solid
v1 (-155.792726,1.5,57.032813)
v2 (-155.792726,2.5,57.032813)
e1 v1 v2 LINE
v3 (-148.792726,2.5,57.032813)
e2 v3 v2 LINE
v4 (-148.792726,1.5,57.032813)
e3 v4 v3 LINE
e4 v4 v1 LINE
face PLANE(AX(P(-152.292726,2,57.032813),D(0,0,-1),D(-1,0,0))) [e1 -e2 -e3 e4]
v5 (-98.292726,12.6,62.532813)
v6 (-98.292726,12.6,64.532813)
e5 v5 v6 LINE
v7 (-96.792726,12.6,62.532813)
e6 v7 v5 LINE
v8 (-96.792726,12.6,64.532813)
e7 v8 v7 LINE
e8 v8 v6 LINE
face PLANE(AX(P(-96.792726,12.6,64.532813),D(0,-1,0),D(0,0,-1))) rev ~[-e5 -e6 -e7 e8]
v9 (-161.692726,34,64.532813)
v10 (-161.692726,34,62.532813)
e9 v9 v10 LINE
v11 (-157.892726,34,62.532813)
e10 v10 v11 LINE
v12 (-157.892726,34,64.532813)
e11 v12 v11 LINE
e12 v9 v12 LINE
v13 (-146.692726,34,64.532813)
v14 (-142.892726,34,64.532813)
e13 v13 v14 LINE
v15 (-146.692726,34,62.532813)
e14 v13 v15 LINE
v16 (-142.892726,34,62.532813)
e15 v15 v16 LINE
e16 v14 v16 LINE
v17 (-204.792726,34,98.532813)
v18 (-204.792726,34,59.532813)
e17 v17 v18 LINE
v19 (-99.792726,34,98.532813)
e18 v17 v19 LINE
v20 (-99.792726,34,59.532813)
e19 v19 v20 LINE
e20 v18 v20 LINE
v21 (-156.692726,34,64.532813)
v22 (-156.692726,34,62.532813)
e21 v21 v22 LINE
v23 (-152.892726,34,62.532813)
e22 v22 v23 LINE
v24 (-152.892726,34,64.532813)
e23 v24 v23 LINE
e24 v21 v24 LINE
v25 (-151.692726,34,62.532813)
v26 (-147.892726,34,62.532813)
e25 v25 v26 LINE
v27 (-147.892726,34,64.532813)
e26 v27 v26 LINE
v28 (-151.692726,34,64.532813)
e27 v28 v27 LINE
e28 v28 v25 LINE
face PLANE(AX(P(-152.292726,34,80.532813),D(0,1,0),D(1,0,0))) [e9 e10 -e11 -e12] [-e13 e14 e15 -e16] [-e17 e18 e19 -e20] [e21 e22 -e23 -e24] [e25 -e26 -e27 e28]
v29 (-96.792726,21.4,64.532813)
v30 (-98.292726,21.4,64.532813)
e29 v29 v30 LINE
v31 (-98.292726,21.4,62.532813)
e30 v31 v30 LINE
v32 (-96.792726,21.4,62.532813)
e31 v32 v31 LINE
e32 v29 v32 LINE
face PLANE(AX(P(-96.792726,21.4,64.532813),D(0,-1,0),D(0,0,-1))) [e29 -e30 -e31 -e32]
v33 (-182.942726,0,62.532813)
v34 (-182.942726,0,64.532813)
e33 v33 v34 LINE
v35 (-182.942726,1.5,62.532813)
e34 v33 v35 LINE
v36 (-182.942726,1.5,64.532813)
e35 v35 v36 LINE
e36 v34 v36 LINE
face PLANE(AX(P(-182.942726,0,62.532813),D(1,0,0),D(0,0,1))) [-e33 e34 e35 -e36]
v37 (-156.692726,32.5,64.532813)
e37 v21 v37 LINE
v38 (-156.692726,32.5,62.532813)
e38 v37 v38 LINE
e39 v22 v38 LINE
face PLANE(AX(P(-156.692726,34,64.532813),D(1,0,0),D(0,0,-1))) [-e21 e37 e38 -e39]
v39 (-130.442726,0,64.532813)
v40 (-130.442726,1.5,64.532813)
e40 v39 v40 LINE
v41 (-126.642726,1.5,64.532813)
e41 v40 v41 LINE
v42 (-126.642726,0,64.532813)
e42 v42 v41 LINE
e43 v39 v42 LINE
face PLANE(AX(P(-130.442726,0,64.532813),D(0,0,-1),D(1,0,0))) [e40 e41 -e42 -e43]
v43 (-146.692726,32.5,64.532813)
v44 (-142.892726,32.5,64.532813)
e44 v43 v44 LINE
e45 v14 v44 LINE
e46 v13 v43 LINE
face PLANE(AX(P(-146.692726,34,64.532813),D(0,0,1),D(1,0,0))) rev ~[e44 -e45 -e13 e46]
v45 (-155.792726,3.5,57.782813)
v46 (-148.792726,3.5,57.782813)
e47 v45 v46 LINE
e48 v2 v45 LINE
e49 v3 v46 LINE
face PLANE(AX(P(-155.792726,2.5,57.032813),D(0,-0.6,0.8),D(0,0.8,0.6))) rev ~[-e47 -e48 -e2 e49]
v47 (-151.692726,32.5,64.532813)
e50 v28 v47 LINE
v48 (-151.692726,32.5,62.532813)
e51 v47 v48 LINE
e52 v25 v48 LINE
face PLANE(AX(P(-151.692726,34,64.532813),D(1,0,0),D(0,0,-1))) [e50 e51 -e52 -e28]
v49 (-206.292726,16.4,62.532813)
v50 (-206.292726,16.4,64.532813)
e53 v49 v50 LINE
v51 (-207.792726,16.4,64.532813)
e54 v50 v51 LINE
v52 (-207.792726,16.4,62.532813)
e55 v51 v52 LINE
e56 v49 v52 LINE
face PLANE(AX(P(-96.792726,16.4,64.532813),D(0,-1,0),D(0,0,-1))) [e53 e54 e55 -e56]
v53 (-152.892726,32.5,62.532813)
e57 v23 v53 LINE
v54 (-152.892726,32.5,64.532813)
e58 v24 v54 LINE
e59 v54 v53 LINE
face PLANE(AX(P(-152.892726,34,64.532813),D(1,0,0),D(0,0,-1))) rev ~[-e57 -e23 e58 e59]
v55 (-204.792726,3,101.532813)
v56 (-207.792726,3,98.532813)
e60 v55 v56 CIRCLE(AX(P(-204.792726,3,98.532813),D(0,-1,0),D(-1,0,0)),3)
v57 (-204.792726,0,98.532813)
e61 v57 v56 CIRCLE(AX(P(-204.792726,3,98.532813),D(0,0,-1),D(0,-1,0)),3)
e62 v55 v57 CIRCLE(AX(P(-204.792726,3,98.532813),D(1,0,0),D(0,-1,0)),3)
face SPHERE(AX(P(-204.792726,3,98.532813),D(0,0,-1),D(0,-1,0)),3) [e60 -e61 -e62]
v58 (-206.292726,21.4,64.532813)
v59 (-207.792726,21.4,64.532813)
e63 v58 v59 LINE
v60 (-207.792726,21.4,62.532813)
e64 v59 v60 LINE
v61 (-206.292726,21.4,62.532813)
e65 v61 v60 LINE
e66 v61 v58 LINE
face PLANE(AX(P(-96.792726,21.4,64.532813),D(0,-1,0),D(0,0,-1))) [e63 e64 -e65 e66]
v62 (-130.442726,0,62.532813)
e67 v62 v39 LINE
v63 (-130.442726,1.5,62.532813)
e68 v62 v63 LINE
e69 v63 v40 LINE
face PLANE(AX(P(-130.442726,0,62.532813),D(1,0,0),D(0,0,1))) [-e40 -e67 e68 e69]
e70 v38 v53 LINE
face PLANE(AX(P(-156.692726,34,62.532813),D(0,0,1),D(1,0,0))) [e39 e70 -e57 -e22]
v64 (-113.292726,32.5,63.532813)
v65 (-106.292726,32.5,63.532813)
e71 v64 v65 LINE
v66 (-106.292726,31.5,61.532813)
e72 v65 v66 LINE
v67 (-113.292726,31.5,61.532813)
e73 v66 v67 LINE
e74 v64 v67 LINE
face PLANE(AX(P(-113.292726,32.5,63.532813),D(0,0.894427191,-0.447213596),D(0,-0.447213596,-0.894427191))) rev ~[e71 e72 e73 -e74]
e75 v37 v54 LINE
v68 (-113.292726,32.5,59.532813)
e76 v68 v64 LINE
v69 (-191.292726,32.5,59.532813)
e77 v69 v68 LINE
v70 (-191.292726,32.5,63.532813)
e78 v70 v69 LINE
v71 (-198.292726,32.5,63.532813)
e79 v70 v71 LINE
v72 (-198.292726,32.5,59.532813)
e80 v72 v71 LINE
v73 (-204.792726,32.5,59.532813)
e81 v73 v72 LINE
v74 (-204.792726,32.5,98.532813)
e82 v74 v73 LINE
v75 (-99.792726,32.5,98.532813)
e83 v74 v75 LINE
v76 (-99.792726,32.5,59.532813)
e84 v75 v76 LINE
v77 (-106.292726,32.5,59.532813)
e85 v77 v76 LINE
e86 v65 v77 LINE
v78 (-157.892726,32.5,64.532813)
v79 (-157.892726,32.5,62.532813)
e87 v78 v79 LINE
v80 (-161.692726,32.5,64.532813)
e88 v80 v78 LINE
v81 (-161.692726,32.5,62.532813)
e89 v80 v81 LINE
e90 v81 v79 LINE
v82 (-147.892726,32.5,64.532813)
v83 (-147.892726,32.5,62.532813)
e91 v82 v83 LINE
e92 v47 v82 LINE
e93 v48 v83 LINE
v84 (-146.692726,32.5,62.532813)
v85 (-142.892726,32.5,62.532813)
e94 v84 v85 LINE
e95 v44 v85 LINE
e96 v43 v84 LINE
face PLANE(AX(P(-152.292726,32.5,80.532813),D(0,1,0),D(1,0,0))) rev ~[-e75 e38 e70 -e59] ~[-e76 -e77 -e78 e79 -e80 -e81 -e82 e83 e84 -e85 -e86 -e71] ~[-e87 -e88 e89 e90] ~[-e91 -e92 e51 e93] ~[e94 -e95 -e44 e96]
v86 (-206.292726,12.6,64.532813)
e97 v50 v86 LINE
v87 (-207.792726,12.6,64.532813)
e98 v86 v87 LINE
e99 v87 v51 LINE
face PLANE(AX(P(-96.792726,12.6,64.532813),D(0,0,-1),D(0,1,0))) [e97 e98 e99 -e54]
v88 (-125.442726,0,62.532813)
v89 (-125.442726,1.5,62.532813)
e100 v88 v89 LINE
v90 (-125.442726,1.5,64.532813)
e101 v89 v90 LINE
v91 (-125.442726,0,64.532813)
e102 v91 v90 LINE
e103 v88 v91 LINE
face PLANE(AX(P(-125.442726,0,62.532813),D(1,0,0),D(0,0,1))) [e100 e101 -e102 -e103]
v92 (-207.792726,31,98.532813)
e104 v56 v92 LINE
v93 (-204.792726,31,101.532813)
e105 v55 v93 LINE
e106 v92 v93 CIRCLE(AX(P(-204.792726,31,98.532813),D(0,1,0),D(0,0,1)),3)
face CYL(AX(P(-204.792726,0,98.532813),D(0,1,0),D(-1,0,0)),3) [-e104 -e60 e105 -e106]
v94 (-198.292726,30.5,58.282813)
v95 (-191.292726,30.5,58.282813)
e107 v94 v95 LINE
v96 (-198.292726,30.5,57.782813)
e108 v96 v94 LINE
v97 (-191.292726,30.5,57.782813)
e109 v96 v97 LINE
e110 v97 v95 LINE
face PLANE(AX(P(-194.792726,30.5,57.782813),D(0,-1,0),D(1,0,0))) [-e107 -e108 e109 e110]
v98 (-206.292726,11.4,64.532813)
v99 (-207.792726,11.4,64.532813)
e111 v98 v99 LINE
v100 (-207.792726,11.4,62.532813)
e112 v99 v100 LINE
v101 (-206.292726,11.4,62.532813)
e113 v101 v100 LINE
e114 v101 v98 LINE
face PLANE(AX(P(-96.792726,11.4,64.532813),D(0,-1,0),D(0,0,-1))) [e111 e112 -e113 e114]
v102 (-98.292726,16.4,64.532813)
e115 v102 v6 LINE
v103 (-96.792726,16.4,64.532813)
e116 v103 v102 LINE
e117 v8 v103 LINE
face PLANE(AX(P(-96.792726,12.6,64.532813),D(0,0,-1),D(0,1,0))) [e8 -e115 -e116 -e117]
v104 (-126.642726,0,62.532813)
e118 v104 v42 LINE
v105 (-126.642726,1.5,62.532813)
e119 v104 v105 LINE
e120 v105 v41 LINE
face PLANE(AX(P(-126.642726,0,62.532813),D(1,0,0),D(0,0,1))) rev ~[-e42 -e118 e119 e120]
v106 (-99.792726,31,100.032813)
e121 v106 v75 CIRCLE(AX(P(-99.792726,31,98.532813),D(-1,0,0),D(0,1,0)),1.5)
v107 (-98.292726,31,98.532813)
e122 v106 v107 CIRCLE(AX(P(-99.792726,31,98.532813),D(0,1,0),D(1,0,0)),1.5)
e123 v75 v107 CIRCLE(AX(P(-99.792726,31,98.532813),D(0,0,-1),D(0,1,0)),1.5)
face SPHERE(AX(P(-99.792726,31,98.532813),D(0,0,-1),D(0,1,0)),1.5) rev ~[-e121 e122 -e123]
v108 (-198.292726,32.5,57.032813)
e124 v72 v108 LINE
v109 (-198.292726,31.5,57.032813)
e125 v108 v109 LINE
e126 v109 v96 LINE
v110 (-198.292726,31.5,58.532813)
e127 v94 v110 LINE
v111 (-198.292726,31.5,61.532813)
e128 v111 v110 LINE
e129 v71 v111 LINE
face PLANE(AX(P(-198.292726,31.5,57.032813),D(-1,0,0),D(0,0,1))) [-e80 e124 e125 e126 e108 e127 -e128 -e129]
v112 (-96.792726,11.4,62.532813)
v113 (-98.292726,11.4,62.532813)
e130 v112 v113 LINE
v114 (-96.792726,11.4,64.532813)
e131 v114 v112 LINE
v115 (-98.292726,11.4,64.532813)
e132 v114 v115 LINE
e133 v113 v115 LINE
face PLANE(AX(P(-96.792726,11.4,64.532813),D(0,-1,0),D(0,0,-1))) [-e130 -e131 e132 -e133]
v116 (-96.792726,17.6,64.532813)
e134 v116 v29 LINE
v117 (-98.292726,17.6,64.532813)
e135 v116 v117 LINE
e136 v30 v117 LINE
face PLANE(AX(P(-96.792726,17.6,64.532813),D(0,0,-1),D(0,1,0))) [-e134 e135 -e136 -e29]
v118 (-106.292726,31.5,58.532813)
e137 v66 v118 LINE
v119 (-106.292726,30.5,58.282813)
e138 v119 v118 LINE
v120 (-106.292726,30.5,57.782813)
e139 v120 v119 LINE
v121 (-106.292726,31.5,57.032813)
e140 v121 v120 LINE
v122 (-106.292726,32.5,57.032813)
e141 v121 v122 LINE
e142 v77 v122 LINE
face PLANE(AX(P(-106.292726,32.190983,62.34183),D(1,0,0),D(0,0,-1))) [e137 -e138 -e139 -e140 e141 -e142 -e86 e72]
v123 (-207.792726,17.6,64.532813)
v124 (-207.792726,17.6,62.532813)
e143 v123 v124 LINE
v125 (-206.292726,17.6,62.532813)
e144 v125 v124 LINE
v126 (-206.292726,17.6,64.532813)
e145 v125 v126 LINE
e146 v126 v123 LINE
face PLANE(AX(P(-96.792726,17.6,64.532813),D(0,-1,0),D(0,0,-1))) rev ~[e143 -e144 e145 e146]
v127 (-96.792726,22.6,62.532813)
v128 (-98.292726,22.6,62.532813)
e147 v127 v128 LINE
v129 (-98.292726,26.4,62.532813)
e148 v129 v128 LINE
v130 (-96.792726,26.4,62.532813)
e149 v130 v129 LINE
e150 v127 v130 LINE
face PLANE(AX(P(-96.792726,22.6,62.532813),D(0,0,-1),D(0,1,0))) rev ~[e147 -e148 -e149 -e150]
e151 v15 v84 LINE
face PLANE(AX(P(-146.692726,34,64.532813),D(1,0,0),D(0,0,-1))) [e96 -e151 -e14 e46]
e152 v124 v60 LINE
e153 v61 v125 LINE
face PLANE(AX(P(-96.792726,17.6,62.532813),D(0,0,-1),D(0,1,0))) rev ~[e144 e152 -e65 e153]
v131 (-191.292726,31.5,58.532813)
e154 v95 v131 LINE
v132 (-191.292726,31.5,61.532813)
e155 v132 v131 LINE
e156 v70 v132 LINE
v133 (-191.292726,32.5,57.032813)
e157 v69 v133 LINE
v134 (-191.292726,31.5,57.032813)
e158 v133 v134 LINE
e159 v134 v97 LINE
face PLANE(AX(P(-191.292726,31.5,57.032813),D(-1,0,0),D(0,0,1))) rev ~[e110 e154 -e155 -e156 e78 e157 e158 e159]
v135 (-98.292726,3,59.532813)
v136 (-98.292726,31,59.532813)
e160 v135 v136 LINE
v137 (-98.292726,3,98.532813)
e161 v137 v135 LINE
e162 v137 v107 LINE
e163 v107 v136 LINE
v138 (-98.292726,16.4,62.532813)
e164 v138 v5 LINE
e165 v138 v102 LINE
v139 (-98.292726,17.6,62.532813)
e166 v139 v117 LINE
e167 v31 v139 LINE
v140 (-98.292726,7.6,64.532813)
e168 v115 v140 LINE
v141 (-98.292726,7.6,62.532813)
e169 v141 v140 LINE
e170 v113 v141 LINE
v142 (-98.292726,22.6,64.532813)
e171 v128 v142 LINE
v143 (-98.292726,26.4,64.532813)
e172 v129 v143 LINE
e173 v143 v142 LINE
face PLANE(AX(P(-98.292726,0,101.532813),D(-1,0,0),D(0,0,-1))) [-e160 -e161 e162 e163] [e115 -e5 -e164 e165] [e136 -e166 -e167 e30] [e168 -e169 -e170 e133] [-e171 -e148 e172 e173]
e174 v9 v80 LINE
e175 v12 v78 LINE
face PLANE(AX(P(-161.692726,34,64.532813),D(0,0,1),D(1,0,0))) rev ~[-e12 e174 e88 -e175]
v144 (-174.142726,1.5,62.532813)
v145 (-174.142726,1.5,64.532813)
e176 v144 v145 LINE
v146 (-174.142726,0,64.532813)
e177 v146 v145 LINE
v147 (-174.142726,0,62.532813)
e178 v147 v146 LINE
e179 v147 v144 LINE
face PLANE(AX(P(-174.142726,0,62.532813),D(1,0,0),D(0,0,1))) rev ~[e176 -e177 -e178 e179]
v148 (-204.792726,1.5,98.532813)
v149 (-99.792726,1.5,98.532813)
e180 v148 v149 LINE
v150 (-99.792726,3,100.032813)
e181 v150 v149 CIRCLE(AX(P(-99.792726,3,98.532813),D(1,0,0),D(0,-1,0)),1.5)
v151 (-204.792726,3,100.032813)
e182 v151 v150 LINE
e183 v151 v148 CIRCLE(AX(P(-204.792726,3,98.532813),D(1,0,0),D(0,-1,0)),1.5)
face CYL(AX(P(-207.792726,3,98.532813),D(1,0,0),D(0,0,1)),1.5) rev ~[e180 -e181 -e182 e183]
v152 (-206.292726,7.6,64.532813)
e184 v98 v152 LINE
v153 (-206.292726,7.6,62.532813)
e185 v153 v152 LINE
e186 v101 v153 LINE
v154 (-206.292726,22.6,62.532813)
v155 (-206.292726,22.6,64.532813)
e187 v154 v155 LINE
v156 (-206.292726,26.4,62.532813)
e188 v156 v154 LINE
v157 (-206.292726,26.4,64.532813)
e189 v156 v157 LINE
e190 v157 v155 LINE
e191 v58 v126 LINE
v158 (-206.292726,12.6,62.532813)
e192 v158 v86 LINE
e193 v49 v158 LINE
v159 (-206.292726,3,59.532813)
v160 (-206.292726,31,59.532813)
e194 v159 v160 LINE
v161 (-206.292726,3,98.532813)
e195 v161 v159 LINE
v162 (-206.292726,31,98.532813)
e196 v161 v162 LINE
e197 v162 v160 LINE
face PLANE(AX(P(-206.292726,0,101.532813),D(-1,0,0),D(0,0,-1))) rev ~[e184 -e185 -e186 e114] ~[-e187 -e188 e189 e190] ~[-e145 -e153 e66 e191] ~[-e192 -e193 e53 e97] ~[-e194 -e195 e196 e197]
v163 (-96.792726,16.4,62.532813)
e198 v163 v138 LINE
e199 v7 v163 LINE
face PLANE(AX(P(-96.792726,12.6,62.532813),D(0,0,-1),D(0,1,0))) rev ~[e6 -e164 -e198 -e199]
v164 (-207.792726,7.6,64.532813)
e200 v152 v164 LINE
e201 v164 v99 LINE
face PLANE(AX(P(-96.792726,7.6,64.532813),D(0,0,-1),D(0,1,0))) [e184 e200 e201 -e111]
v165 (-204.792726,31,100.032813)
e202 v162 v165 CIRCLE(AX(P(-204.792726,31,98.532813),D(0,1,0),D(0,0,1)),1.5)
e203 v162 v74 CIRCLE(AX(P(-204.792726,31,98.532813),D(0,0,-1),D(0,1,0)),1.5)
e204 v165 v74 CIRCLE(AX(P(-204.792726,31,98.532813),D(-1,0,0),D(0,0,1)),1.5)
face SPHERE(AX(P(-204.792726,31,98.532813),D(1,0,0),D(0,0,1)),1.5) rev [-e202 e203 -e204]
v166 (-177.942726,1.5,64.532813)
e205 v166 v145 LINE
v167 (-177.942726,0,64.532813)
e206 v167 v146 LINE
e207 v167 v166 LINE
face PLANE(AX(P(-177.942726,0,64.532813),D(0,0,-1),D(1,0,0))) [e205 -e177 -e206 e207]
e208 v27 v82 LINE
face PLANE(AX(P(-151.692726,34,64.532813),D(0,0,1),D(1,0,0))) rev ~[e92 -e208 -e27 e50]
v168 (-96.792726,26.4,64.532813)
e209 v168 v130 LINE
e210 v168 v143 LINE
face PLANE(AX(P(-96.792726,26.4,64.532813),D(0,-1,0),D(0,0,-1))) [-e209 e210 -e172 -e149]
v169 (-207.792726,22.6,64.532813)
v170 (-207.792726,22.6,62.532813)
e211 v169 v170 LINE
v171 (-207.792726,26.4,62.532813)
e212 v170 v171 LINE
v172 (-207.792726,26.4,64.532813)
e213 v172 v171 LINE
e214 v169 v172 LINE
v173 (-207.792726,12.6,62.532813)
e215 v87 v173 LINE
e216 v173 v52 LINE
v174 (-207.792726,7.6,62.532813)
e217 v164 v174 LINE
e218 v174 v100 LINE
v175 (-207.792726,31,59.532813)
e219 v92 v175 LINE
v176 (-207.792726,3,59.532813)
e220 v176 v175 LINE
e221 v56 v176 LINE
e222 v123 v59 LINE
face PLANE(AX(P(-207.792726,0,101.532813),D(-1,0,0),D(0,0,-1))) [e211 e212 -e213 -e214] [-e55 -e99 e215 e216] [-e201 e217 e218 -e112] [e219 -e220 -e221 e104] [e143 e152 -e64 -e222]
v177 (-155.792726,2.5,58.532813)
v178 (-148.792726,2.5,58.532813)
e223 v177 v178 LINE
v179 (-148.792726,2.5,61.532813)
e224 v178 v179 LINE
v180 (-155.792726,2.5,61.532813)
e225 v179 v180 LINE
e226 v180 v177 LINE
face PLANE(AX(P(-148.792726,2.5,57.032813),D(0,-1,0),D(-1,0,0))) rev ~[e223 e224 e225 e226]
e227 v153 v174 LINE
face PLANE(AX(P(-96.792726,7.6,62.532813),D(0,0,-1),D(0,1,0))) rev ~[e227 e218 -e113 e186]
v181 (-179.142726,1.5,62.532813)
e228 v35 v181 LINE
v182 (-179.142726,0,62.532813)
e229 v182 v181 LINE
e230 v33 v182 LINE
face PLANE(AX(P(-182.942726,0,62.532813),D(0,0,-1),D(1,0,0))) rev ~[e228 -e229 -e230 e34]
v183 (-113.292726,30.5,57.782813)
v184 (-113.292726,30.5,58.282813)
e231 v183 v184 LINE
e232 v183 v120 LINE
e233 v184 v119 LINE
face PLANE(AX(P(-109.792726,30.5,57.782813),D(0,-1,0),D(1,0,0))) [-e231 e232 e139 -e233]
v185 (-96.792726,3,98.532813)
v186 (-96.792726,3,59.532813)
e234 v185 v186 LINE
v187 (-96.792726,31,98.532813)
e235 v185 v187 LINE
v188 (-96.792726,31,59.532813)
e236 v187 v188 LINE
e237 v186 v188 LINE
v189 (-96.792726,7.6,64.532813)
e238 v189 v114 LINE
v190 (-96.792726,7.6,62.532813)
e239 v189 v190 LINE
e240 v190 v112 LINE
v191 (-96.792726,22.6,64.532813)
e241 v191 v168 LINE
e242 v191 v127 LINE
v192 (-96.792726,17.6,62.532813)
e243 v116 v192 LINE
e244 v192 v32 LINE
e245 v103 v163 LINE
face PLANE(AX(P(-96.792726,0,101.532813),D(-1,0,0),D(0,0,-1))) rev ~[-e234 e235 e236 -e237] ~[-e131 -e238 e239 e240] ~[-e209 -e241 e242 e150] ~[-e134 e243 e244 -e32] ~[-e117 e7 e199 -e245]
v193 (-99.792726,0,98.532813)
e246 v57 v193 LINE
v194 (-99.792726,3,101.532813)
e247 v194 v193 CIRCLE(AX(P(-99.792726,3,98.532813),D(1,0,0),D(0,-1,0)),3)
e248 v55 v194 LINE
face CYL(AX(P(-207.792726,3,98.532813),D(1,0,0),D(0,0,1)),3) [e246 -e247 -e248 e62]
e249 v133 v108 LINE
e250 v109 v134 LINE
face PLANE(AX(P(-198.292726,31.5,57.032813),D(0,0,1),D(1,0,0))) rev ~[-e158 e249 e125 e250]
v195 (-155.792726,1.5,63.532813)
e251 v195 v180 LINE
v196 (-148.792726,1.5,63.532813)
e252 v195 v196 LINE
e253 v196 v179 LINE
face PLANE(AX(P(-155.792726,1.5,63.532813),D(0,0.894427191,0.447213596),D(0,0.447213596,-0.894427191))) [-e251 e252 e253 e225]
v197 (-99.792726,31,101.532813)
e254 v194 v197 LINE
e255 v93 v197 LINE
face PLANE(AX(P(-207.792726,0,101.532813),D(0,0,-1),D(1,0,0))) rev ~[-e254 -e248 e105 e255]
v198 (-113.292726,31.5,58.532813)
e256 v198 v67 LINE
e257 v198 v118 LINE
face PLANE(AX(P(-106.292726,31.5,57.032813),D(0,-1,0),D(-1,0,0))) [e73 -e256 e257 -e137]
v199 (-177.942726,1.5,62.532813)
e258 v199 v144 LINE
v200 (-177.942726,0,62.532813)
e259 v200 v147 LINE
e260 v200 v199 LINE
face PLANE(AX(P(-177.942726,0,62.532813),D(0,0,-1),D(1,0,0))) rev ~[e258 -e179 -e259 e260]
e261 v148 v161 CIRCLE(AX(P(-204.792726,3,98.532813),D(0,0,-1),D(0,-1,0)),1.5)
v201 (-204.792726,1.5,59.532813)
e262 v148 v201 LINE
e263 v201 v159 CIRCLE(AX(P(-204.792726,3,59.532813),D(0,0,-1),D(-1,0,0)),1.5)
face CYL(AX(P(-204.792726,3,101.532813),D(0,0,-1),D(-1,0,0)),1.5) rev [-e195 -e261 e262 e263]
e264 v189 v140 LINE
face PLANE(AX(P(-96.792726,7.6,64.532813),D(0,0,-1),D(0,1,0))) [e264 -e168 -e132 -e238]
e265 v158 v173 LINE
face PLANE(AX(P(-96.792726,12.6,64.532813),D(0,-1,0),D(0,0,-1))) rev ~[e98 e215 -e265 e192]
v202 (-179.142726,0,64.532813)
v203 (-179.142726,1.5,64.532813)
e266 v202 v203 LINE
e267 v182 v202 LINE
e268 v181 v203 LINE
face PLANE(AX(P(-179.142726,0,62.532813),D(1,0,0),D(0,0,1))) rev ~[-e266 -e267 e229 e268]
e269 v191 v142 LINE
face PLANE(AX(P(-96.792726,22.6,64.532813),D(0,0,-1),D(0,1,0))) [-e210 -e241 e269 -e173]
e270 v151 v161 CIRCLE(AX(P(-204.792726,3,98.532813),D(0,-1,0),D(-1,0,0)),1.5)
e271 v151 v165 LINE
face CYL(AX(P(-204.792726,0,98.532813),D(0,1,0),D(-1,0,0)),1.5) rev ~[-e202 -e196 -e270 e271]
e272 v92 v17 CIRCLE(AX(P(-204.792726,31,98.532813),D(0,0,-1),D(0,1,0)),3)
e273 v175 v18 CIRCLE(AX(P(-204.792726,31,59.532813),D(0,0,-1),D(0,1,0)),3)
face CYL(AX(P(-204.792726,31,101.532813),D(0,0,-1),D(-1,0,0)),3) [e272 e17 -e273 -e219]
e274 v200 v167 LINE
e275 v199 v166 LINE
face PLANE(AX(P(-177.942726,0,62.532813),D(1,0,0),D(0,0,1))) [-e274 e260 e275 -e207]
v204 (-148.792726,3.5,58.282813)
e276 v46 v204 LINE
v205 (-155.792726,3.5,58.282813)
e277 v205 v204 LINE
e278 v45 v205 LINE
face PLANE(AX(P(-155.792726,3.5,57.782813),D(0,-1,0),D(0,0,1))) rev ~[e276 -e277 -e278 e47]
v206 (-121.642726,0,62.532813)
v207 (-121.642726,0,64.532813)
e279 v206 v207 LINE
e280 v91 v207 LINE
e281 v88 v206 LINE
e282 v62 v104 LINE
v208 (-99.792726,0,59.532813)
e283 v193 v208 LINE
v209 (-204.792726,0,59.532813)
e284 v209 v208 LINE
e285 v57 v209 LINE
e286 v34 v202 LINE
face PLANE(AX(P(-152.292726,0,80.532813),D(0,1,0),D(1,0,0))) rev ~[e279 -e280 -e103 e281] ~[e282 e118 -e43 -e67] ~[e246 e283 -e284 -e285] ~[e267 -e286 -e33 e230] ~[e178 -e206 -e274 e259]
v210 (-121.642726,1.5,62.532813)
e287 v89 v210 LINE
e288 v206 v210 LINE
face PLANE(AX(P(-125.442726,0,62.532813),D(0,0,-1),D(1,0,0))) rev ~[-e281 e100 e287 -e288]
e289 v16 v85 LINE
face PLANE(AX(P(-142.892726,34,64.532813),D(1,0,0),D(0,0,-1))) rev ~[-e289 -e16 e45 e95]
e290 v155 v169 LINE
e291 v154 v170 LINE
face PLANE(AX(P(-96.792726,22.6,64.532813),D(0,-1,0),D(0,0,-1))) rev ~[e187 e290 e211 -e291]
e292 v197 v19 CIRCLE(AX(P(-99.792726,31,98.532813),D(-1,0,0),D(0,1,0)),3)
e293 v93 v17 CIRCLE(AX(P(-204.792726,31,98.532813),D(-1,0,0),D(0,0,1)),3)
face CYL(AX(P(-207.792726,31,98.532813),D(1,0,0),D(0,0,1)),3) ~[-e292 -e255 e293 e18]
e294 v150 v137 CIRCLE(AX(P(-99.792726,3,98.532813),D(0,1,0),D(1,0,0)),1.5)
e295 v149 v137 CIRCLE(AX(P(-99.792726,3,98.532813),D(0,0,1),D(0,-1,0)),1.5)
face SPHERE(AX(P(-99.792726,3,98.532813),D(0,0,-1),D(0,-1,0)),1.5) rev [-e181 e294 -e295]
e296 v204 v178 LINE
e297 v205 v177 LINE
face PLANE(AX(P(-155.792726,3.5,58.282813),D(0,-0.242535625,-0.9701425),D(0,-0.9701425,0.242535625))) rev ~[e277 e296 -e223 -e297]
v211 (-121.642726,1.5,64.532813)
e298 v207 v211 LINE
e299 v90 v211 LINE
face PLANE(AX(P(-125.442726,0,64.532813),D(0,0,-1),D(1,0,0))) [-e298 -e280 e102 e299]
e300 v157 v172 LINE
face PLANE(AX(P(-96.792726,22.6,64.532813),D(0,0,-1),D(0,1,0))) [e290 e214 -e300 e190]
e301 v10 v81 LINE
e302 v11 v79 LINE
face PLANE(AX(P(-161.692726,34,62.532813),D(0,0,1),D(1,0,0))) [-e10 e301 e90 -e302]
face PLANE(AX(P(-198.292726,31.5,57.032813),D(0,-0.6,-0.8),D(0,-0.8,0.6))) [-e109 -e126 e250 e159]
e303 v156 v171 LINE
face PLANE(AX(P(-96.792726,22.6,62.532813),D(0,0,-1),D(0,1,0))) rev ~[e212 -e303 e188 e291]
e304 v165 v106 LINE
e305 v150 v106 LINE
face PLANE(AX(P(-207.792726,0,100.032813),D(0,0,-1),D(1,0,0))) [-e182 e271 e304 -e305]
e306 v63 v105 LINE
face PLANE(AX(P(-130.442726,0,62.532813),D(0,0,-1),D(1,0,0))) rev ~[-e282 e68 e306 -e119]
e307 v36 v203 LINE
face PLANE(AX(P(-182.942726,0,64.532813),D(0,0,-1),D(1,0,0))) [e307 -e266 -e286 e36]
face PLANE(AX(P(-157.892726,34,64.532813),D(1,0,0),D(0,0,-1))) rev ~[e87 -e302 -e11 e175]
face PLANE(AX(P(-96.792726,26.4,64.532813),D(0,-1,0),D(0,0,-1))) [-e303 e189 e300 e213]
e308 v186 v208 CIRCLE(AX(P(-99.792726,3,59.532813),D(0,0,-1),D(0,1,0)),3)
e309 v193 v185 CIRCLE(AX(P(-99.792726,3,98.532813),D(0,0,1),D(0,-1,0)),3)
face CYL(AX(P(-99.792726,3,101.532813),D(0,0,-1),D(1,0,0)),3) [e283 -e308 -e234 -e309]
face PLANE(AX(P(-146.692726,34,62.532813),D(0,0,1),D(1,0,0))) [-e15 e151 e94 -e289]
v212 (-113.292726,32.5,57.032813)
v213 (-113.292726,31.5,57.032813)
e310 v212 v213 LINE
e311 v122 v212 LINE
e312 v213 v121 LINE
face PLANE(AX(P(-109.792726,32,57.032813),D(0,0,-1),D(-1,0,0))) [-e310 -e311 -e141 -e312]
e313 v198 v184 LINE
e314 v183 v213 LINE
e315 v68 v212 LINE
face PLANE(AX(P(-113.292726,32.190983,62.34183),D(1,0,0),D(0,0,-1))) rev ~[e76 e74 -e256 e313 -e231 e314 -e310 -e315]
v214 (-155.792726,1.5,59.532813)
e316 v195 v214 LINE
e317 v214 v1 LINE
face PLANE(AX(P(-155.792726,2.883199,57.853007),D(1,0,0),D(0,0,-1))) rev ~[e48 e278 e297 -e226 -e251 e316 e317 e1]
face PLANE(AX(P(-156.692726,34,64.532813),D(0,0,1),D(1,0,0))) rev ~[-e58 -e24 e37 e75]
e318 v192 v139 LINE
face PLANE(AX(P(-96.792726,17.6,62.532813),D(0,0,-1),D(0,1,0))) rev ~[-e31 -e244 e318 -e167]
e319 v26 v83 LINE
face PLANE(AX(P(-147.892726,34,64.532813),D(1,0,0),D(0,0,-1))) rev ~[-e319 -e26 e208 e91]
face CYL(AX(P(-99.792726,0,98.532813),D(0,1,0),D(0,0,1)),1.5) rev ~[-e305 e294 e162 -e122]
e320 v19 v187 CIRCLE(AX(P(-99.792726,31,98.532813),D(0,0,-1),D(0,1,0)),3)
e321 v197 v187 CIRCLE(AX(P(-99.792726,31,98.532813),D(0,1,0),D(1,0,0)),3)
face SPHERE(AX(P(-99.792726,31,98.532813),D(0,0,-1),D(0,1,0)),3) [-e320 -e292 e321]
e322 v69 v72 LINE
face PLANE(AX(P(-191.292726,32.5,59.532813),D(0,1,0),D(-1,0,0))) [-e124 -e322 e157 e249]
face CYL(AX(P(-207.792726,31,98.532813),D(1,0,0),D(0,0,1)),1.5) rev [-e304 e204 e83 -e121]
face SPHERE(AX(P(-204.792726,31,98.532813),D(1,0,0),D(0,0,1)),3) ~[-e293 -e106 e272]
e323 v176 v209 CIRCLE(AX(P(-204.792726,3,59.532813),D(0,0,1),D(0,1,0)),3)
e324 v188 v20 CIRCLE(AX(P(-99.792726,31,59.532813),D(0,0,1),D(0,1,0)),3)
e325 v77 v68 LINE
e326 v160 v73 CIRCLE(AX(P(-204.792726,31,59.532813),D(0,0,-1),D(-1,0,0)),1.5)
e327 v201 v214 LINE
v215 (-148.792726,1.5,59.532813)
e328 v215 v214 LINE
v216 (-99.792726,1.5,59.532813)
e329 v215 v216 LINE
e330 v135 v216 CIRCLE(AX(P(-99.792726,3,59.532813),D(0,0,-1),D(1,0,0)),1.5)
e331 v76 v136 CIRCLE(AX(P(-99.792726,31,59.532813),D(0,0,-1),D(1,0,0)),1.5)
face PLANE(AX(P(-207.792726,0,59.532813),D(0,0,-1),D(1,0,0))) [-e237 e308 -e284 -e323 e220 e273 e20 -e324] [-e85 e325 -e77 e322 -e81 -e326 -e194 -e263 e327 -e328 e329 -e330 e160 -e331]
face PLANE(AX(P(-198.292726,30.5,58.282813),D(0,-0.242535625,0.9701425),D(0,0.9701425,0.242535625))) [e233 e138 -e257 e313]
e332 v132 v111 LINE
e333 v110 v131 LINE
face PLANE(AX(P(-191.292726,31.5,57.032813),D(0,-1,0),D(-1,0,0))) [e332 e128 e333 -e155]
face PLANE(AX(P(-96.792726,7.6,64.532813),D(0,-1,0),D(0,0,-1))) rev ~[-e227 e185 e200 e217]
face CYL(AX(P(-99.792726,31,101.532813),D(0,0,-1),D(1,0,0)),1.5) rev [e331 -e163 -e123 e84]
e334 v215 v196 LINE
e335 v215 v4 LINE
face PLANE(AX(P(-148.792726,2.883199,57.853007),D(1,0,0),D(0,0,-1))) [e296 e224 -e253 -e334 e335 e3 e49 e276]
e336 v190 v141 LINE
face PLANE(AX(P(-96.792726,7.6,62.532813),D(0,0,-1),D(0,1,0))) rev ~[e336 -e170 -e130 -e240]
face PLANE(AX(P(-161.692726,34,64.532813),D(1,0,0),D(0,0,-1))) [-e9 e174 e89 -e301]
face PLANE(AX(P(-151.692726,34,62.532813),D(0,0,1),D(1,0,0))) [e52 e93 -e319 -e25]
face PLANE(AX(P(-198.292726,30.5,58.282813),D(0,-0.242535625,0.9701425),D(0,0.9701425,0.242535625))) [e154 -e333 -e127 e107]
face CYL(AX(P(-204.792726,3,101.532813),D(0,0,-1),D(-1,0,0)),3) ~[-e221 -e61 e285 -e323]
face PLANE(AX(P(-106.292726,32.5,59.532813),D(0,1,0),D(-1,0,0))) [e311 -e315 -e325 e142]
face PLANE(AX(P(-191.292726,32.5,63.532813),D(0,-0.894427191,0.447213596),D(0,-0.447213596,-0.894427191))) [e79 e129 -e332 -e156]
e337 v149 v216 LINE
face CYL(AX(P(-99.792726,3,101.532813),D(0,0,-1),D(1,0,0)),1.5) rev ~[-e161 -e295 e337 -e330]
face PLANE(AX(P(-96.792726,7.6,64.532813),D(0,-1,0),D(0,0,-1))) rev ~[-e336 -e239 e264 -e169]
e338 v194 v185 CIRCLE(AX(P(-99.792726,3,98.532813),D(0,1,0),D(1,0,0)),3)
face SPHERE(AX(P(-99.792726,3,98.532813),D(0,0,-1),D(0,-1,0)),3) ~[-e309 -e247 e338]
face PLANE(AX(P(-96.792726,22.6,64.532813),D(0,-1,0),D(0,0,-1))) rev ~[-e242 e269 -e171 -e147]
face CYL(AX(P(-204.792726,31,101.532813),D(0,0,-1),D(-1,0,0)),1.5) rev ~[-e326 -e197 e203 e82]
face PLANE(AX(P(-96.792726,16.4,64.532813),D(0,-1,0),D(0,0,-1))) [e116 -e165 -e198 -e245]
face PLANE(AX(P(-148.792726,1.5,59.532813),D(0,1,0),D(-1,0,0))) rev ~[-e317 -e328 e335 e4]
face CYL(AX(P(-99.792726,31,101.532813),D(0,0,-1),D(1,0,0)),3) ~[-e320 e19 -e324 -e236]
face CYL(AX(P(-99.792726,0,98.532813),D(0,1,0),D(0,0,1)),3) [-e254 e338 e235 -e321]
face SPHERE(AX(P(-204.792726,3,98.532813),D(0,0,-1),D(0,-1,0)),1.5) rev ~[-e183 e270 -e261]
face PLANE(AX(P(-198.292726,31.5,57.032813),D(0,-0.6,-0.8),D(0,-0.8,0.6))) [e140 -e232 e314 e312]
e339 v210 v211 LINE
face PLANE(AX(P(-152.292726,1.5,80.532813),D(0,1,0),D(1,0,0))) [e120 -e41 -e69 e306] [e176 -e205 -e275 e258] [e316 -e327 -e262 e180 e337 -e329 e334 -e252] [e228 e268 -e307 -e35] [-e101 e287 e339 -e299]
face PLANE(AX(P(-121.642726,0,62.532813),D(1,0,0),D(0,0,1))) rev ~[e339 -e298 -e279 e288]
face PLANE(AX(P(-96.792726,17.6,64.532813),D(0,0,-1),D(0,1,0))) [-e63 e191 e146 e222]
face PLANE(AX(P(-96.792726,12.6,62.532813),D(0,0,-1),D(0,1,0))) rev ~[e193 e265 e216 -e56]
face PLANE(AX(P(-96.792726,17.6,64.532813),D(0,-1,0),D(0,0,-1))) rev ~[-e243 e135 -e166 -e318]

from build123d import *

# Parameters (mm, degrees)
SKETCH1_W             = 111
SKETCH1_H             = 42
BOSS_EXTRUDE1_DEPTH   = 34
FILLET1_R             = 3
SHELL1_T              = -1.5
SKETCH2_W             = 7
SKETCH2_H             = 1
BOSS_EXTRUDE2_DEPTH   = 2.5
BOSS_EXTRUDE2_2_DEPTH = 2.5
BOSS_EXTRUDE2_3_DEPTH = 2.5
SKETCH3_W             = 7
SKETCH3_H             = 1
BOSS_EXTRUDE3_DEPTH   = 4.5
BOSS_EXTRUDE4_DEPTH   = 7
BOSS_EXTRUDE5_DEPTH   = 7
BOSS_EXTRUDE6_DEPTH   = 7
SKETCH7_W             = 7
SKETCH7_H             = 1.5
BOSS_EXTRUDE7_DEPTH   = 1
CUT_EXTRUDE1_REACH    = 149.537
BOSS_EXTRUDE8_DEPTH   = 7
CUT_EXTRUDE3_REACH    = 156.227
SKETCH10_W            = 2
SKETCH10_H            = 3.8
SKETCH11_W            = 3.8
SKETCH11_H            = 2
CUT_EXTRUDE4_DEPTH    = 1.5
SKETCH12_W            = 3.8
SKETCH12_H            = 2
CUT_EXTRUDE5_DEPTH    = 1.5


with BuildPart() as part:
    # Sketch1 → Boss-Extrude1 (new body)
    with BuildSketch(Plane(origin=(0, 0, 0), x_dir=(1, 0, 0), z_dir=(0, 1, 0))):
        with Locations((-152.292726369, -80.532812689)):
            Rectangle(SKETCH1_W, SKETCH1_H)
    extrude(amount=BOSS_EXTRUDE1_DEPTH)

    # Fillet1
    fillet1_edges = [part.edges().sort_by_distance(p)[0] for p in [
        (-96.792726369, 34, 80.532812689),
        (-152.292726369, 34, 101.532812689),
        (-96.792726369, 0, 80.532812689),
        (-207.792726369, 0, 80.532812689),
        (-152.292726369, 0, 101.532812689),
        (-96.792726369, 17, 101.532812689),
        (-207.792726369, 17, 101.532812689),
        (-207.792726369, 34, 80.532812689),
    ]]
    fillet(fillet1_edges, radius=FILLET1_R)

    # Shell1
    shell1_openings = [part.faces().sort_by_distance(p)[0] for p in [
        (-152.292726369, 17, 59.532812689),
    ]]
    offset(amount=SHELL1_T, openings=shell1_openings, kind=Kind.INTERSECTION)



with BuildPart() as body_2:
    # Sketch2 → Boss-Extrude2 (new body)
    with BuildSketch(Plane(origin=(0, 0, 59.532812689), x_dir=(-1, 0, 0), z_dir=(0, 0, -1))):
        with Locations((109.792726369, 32)):
            Rectangle(SKETCH2_W, SKETCH2_H)
    extrude(amount=BOSS_EXTRUDE2_DEPTH)


with BuildPart() as body_3:
    # Sketch2 → Boss-Extrude2 2 (new body)
    with BuildSketch(Plane(origin=(0, 0, 59.532812689), x_dir=(-1, 0, 0), z_dir=(0, 0, -1))):
        with Locations((194.792726369, 32)):
            Rectangle(SKETCH2_W, SKETCH2_H)
    extrude(amount=BOSS_EXTRUDE2_2_DEPTH)


with BuildPart() as body_4:
    # Sketch2 → Boss-Extrude2 3 (new body)
    with BuildSketch(Plane(origin=(0, 0, 59.532812689), x_dir=(-1, 0, 0), z_dir=(0, 0, -1))):
        with Locations((152.292726369, 2)):
            Rectangle(SKETCH2_W, SKETCH2_H)
    extrude(amount=BOSS_EXTRUDE2_3_DEPTH)


with BuildPart() as part_1:
    add(part.part)

    add(body_2.part)  # Boss-Extrude3 merges body 2

    add(body_3.part)  # Boss-Extrude3 merges body 3

    add(body_4.part)  # Boss-Extrude3 merges body 4
    # Sketch3 → Boss-Extrude3 (add)
    with BuildSketch(Plane(origin=(0, 0, 57.032812689), x_dir=(-1, 0, 0), z_dir=(0, 0, -1))):
        with Locations((194.792726369, 32)):
            Rectangle(SKETCH3_W, SKETCH3_H)
        with Locations((109.792726369, 32)):
            Rectangle(SKETCH3_W, SKETCH3_H)
        with Locations((152.292726369, 2)):
            Rectangle(SKETCH3_W, SKETCH3_H)
    extrude(amount=-BOSS_EXTRUDE3_DEPTH)

    # Sketch4 → Boss-Extrude4 (add)
    with BuildSketch(Plane.ZY.offset(113.292726369)):
        Polygon((61.532812689, 31.5), (61.532812689, 32.5), (63.532812689, 32.5), align=None)
    extrude(amount=-BOSS_EXTRUDE4_DEPTH)

    # Sketch5 → Boss-Extrude5 (add)
    with BuildSketch(Plane(origin=(-191.292726369, 0, 0), x_dir=(0, 0, -1), z_dir=(1, 0, 0))):
        Polygon((-61.532812689, 31.5), (-61.532812689, 32.5), (-63.532812689, 32.5), align=None)
    extrude(amount=-BOSS_EXTRUDE5_DEPTH)

    # Sketch6 → Boss-Extrude6 (add)
    with BuildSketch(Plane.ZY.offset(155.792726369)):
        Polygon((61.532812689, 2.5), (61.532812689, 1.5), (63.532812689, 1.5), align=None)
    extrude(amount=-BOSS_EXTRUDE6_DEPTH)

    # Sketch7 → Boss-Extrude7 (add)
    with BuildSketch(Plane.XZ.offset(-31.5)):
        with Locations((-194.792726369, 57.782812689)):
            Rectangle(SKETCH7_W, SKETCH7_H)
        with Locations((-109.792726369, 57.782812689)):
            Rectangle(SKETCH7_W, SKETCH7_H)
    extrude(amount=BOSS_EXTRUDE7_DEPTH)

    # Cut-Extrude1: up to this face of the body (flat: up to its plane)
    cut_extrude1_end = Plane(part_1.part.faces().sort_by_distance((-106.292726369, 31.80952381, 59.378050785))[0])
    # Sketch8 → Cut-Extrude1 (cut, up to the picked face)
    with BuildSketch(Plane.ZY.offset(198.292726369), mode=Mode.PRIVATE) as cut_extrude1_sk1:
        Polygon((57.032812689, 31.5), (57.782812689, 30.5), (57.032812689, 30.5), align=None)
    cut_extrude1_tool1 = split(extrude(cut_extrude1_sk1.sketch, amount=-CUT_EXTRUDE1_REACH, mode=Mode.PRIVATE), bisect_by=cut_extrude1_end, keep=Keep.BOTH, mode=Mode.PRIVATE)
    # Sketch8 → Cut-Extrude1 (cut, up to the picked face)
    with BuildSketch(Plane.ZY.offset(198.292726369), mode=Mode.PRIVATE) as cut_extrude1_sk2:
        Polygon((58.282812689, 30.5), (58.532812689, 31.5), (58.532812689, 30.5), align=None)
    cut_extrude1_tool2 = split(extrude(cut_extrude1_sk2.sketch, amount=-CUT_EXTRUDE1_REACH, mode=Mode.PRIVATE), bisect_by=cut_extrude1_end, keep=Keep.BOTH, mode=Mode.PRIVATE)
    add(cut_extrude1_tool1.solids().sort_by(Axis((-198.292726, 30.833333, 57.282813), (1, 0, 0)))[0], mode=Mode.SUBTRACT)
    add(cut_extrude1_tool2.solids().sort_by(Axis((-198.292726, 30.833333, 58.449479), (1, 0, 0)))[0], mode=Mode.SUBTRACT)

    # Sketch9 → Boss-Extrude8 (add)
    with BuildSketch(Plane.ZY.offset(155.792726369)):
        Polygon((57.032812689, 2.5), (57.782812689, 3.5), (58.282812689, 3.5), (58.532812689, 2.5), align=None)
    extrude(amount=-BOSS_EXTRUDE8_DEPTH)

    # Cut-Extrude3: up to this face of the body (flat: up to its plane)
    cut_extrude3_end = Plane(part_1.part.faces().sort_by_distance((-207.792726369, 17, 79.032812689))[0])
    # Sketch10 → Cut-Extrude3 (cut, up to the picked face)
    with BuildSketch(Plane(origin=(-96.792726369, 0, 0), x_dir=(0, 0, -1), z_dir=(1, 0, 0)), mode=Mode.PRIVATE) as cut_extrude3_sk1:
        with Locations((-63.532812689, 24.5)):
            Rectangle(SKETCH10_W, SKETCH10_H)
    cut_extrude3_tool1 = split(extrude(cut_extrude3_sk1.sketch, amount=-CUT_EXTRUDE3_REACH, mode=Mode.PRIVATE), bisect_by=cut_extrude3_end, keep=Keep.BOTH, mode=Mode.PRIVATE)
    # Sketch10 → Cut-Extrude3 (cut, up to the picked face)
    with BuildSketch(Plane(origin=(-96.792726369, 0, 0), x_dir=(0, 0, -1), z_dir=(1, 0, 0)), mode=Mode.PRIVATE) as cut_extrude3_sk2:
        with Locations((-63.532812689, 19.5)):
            Rectangle(SKETCH10_W, SKETCH10_H)
    cut_extrude3_tool2 = split(extrude(cut_extrude3_sk2.sketch, amount=-CUT_EXTRUDE3_REACH, mode=Mode.PRIVATE), bisect_by=cut_extrude3_end, keep=Keep.BOTH, mode=Mode.PRIVATE)
    # Sketch10 → Cut-Extrude3 (cut, up to the picked face)
    with BuildSketch(Plane(origin=(-96.792726369, 0, 0), x_dir=(0, 0, -1), z_dir=(1, 0, 0)), mode=Mode.PRIVATE) as cut_extrude3_sk3:
        with Locations((-63.532812689, 14.5)):
            Rectangle(SKETCH10_W, SKETCH10_H)
    cut_extrude3_tool3 = split(extrude(cut_extrude3_sk3.sketch, amount=-CUT_EXTRUDE3_REACH, mode=Mode.PRIVATE), bisect_by=cut_extrude3_end, keep=Keep.BOTH, mode=Mode.PRIVATE)
    # Sketch10 → Cut-Extrude3 (cut, up to the picked face)
    with BuildSketch(Plane(origin=(-96.792726369, 0, 0), x_dir=(0, 0, -1), z_dir=(1, 0, 0)), mode=Mode.PRIVATE) as cut_extrude3_sk4:
        with Locations((-63.532812689, 9.5)):
            Rectangle(SKETCH10_W, SKETCH10_H)
    cut_extrude3_tool4 = split(extrude(cut_extrude3_sk4.sketch, amount=-CUT_EXTRUDE3_REACH, mode=Mode.PRIVATE), bisect_by=cut_extrude3_end, keep=Keep.BOTH, mode=Mode.PRIVATE)
    add(cut_extrude3_tool1.solids().sort_by(Axis((-96.792726, 24.5, 63.532813), (-1, 0, 0)))[0], mode=Mode.SUBTRACT)
    add(cut_extrude3_tool2.solids().sort_by(Axis((-96.792726, 19.5, 63.532813), (-1, 0, 0)))[0], mode=Mode.SUBTRACT)
    add(cut_extrude3_tool3.solids().sort_by(Axis((-96.792726, 14.5, 63.532813), (-1, 0, 0)))[0], mode=Mode.SUBTRACT)
    add(cut_extrude3_tool4.solids().sort_by(Axis((-96.792726, 9.5, 63.532813), (-1, 0, 0)))[0], mode=Mode.SUBTRACT)

    # Sketch11 → Cut-Extrude4 (cut)
    with BuildSketch(Plane(origin=(0, 34, 0), x_dir=(1, 0, 0), z_dir=(0, 1, 0))):
        with Locations((-159.792726369, -63.532812689)):
            Rectangle(SKETCH11_W, SKETCH11_H)
        with Locations((-154.792726369, -63.532812689)):
            Rectangle(SKETCH11_W, SKETCH11_H)
        with Locations((-149.792726369, -63.532812689)):
            Rectangle(SKETCH11_W, SKETCH11_H)
        with Locations((-144.792726369, -63.532812689)):
            Rectangle(SKETCH11_W, SKETCH11_H)
    extrude(amount=-CUT_EXTRUDE4_DEPTH, mode=Mode.SUBTRACT)

    # Sketch12 → Cut-Extrude5 (cut)
    with BuildSketch(Plane.XZ):
        with Locations((-123.542726369, 63.532812689)):
            Rectangle(SKETCH12_W, SKETCH12_H)
        with Locations((-128.542726369, 63.532812689)):
            Rectangle(SKETCH12_W, SKETCH12_H)
        with Locations((-176.042726369, 63.532812689)):
            Rectangle(SKETCH12_W, SKETCH12_H)
        with Locations((-181.042726369, 63.532812689)):
            Rectangle(SKETCH12_W, SKETCH12_H)
    extrude(amount=-CUT_EXTRUDE5_DEPTH, mode=Mode.SUBTRACT)


solid = part_1.part
